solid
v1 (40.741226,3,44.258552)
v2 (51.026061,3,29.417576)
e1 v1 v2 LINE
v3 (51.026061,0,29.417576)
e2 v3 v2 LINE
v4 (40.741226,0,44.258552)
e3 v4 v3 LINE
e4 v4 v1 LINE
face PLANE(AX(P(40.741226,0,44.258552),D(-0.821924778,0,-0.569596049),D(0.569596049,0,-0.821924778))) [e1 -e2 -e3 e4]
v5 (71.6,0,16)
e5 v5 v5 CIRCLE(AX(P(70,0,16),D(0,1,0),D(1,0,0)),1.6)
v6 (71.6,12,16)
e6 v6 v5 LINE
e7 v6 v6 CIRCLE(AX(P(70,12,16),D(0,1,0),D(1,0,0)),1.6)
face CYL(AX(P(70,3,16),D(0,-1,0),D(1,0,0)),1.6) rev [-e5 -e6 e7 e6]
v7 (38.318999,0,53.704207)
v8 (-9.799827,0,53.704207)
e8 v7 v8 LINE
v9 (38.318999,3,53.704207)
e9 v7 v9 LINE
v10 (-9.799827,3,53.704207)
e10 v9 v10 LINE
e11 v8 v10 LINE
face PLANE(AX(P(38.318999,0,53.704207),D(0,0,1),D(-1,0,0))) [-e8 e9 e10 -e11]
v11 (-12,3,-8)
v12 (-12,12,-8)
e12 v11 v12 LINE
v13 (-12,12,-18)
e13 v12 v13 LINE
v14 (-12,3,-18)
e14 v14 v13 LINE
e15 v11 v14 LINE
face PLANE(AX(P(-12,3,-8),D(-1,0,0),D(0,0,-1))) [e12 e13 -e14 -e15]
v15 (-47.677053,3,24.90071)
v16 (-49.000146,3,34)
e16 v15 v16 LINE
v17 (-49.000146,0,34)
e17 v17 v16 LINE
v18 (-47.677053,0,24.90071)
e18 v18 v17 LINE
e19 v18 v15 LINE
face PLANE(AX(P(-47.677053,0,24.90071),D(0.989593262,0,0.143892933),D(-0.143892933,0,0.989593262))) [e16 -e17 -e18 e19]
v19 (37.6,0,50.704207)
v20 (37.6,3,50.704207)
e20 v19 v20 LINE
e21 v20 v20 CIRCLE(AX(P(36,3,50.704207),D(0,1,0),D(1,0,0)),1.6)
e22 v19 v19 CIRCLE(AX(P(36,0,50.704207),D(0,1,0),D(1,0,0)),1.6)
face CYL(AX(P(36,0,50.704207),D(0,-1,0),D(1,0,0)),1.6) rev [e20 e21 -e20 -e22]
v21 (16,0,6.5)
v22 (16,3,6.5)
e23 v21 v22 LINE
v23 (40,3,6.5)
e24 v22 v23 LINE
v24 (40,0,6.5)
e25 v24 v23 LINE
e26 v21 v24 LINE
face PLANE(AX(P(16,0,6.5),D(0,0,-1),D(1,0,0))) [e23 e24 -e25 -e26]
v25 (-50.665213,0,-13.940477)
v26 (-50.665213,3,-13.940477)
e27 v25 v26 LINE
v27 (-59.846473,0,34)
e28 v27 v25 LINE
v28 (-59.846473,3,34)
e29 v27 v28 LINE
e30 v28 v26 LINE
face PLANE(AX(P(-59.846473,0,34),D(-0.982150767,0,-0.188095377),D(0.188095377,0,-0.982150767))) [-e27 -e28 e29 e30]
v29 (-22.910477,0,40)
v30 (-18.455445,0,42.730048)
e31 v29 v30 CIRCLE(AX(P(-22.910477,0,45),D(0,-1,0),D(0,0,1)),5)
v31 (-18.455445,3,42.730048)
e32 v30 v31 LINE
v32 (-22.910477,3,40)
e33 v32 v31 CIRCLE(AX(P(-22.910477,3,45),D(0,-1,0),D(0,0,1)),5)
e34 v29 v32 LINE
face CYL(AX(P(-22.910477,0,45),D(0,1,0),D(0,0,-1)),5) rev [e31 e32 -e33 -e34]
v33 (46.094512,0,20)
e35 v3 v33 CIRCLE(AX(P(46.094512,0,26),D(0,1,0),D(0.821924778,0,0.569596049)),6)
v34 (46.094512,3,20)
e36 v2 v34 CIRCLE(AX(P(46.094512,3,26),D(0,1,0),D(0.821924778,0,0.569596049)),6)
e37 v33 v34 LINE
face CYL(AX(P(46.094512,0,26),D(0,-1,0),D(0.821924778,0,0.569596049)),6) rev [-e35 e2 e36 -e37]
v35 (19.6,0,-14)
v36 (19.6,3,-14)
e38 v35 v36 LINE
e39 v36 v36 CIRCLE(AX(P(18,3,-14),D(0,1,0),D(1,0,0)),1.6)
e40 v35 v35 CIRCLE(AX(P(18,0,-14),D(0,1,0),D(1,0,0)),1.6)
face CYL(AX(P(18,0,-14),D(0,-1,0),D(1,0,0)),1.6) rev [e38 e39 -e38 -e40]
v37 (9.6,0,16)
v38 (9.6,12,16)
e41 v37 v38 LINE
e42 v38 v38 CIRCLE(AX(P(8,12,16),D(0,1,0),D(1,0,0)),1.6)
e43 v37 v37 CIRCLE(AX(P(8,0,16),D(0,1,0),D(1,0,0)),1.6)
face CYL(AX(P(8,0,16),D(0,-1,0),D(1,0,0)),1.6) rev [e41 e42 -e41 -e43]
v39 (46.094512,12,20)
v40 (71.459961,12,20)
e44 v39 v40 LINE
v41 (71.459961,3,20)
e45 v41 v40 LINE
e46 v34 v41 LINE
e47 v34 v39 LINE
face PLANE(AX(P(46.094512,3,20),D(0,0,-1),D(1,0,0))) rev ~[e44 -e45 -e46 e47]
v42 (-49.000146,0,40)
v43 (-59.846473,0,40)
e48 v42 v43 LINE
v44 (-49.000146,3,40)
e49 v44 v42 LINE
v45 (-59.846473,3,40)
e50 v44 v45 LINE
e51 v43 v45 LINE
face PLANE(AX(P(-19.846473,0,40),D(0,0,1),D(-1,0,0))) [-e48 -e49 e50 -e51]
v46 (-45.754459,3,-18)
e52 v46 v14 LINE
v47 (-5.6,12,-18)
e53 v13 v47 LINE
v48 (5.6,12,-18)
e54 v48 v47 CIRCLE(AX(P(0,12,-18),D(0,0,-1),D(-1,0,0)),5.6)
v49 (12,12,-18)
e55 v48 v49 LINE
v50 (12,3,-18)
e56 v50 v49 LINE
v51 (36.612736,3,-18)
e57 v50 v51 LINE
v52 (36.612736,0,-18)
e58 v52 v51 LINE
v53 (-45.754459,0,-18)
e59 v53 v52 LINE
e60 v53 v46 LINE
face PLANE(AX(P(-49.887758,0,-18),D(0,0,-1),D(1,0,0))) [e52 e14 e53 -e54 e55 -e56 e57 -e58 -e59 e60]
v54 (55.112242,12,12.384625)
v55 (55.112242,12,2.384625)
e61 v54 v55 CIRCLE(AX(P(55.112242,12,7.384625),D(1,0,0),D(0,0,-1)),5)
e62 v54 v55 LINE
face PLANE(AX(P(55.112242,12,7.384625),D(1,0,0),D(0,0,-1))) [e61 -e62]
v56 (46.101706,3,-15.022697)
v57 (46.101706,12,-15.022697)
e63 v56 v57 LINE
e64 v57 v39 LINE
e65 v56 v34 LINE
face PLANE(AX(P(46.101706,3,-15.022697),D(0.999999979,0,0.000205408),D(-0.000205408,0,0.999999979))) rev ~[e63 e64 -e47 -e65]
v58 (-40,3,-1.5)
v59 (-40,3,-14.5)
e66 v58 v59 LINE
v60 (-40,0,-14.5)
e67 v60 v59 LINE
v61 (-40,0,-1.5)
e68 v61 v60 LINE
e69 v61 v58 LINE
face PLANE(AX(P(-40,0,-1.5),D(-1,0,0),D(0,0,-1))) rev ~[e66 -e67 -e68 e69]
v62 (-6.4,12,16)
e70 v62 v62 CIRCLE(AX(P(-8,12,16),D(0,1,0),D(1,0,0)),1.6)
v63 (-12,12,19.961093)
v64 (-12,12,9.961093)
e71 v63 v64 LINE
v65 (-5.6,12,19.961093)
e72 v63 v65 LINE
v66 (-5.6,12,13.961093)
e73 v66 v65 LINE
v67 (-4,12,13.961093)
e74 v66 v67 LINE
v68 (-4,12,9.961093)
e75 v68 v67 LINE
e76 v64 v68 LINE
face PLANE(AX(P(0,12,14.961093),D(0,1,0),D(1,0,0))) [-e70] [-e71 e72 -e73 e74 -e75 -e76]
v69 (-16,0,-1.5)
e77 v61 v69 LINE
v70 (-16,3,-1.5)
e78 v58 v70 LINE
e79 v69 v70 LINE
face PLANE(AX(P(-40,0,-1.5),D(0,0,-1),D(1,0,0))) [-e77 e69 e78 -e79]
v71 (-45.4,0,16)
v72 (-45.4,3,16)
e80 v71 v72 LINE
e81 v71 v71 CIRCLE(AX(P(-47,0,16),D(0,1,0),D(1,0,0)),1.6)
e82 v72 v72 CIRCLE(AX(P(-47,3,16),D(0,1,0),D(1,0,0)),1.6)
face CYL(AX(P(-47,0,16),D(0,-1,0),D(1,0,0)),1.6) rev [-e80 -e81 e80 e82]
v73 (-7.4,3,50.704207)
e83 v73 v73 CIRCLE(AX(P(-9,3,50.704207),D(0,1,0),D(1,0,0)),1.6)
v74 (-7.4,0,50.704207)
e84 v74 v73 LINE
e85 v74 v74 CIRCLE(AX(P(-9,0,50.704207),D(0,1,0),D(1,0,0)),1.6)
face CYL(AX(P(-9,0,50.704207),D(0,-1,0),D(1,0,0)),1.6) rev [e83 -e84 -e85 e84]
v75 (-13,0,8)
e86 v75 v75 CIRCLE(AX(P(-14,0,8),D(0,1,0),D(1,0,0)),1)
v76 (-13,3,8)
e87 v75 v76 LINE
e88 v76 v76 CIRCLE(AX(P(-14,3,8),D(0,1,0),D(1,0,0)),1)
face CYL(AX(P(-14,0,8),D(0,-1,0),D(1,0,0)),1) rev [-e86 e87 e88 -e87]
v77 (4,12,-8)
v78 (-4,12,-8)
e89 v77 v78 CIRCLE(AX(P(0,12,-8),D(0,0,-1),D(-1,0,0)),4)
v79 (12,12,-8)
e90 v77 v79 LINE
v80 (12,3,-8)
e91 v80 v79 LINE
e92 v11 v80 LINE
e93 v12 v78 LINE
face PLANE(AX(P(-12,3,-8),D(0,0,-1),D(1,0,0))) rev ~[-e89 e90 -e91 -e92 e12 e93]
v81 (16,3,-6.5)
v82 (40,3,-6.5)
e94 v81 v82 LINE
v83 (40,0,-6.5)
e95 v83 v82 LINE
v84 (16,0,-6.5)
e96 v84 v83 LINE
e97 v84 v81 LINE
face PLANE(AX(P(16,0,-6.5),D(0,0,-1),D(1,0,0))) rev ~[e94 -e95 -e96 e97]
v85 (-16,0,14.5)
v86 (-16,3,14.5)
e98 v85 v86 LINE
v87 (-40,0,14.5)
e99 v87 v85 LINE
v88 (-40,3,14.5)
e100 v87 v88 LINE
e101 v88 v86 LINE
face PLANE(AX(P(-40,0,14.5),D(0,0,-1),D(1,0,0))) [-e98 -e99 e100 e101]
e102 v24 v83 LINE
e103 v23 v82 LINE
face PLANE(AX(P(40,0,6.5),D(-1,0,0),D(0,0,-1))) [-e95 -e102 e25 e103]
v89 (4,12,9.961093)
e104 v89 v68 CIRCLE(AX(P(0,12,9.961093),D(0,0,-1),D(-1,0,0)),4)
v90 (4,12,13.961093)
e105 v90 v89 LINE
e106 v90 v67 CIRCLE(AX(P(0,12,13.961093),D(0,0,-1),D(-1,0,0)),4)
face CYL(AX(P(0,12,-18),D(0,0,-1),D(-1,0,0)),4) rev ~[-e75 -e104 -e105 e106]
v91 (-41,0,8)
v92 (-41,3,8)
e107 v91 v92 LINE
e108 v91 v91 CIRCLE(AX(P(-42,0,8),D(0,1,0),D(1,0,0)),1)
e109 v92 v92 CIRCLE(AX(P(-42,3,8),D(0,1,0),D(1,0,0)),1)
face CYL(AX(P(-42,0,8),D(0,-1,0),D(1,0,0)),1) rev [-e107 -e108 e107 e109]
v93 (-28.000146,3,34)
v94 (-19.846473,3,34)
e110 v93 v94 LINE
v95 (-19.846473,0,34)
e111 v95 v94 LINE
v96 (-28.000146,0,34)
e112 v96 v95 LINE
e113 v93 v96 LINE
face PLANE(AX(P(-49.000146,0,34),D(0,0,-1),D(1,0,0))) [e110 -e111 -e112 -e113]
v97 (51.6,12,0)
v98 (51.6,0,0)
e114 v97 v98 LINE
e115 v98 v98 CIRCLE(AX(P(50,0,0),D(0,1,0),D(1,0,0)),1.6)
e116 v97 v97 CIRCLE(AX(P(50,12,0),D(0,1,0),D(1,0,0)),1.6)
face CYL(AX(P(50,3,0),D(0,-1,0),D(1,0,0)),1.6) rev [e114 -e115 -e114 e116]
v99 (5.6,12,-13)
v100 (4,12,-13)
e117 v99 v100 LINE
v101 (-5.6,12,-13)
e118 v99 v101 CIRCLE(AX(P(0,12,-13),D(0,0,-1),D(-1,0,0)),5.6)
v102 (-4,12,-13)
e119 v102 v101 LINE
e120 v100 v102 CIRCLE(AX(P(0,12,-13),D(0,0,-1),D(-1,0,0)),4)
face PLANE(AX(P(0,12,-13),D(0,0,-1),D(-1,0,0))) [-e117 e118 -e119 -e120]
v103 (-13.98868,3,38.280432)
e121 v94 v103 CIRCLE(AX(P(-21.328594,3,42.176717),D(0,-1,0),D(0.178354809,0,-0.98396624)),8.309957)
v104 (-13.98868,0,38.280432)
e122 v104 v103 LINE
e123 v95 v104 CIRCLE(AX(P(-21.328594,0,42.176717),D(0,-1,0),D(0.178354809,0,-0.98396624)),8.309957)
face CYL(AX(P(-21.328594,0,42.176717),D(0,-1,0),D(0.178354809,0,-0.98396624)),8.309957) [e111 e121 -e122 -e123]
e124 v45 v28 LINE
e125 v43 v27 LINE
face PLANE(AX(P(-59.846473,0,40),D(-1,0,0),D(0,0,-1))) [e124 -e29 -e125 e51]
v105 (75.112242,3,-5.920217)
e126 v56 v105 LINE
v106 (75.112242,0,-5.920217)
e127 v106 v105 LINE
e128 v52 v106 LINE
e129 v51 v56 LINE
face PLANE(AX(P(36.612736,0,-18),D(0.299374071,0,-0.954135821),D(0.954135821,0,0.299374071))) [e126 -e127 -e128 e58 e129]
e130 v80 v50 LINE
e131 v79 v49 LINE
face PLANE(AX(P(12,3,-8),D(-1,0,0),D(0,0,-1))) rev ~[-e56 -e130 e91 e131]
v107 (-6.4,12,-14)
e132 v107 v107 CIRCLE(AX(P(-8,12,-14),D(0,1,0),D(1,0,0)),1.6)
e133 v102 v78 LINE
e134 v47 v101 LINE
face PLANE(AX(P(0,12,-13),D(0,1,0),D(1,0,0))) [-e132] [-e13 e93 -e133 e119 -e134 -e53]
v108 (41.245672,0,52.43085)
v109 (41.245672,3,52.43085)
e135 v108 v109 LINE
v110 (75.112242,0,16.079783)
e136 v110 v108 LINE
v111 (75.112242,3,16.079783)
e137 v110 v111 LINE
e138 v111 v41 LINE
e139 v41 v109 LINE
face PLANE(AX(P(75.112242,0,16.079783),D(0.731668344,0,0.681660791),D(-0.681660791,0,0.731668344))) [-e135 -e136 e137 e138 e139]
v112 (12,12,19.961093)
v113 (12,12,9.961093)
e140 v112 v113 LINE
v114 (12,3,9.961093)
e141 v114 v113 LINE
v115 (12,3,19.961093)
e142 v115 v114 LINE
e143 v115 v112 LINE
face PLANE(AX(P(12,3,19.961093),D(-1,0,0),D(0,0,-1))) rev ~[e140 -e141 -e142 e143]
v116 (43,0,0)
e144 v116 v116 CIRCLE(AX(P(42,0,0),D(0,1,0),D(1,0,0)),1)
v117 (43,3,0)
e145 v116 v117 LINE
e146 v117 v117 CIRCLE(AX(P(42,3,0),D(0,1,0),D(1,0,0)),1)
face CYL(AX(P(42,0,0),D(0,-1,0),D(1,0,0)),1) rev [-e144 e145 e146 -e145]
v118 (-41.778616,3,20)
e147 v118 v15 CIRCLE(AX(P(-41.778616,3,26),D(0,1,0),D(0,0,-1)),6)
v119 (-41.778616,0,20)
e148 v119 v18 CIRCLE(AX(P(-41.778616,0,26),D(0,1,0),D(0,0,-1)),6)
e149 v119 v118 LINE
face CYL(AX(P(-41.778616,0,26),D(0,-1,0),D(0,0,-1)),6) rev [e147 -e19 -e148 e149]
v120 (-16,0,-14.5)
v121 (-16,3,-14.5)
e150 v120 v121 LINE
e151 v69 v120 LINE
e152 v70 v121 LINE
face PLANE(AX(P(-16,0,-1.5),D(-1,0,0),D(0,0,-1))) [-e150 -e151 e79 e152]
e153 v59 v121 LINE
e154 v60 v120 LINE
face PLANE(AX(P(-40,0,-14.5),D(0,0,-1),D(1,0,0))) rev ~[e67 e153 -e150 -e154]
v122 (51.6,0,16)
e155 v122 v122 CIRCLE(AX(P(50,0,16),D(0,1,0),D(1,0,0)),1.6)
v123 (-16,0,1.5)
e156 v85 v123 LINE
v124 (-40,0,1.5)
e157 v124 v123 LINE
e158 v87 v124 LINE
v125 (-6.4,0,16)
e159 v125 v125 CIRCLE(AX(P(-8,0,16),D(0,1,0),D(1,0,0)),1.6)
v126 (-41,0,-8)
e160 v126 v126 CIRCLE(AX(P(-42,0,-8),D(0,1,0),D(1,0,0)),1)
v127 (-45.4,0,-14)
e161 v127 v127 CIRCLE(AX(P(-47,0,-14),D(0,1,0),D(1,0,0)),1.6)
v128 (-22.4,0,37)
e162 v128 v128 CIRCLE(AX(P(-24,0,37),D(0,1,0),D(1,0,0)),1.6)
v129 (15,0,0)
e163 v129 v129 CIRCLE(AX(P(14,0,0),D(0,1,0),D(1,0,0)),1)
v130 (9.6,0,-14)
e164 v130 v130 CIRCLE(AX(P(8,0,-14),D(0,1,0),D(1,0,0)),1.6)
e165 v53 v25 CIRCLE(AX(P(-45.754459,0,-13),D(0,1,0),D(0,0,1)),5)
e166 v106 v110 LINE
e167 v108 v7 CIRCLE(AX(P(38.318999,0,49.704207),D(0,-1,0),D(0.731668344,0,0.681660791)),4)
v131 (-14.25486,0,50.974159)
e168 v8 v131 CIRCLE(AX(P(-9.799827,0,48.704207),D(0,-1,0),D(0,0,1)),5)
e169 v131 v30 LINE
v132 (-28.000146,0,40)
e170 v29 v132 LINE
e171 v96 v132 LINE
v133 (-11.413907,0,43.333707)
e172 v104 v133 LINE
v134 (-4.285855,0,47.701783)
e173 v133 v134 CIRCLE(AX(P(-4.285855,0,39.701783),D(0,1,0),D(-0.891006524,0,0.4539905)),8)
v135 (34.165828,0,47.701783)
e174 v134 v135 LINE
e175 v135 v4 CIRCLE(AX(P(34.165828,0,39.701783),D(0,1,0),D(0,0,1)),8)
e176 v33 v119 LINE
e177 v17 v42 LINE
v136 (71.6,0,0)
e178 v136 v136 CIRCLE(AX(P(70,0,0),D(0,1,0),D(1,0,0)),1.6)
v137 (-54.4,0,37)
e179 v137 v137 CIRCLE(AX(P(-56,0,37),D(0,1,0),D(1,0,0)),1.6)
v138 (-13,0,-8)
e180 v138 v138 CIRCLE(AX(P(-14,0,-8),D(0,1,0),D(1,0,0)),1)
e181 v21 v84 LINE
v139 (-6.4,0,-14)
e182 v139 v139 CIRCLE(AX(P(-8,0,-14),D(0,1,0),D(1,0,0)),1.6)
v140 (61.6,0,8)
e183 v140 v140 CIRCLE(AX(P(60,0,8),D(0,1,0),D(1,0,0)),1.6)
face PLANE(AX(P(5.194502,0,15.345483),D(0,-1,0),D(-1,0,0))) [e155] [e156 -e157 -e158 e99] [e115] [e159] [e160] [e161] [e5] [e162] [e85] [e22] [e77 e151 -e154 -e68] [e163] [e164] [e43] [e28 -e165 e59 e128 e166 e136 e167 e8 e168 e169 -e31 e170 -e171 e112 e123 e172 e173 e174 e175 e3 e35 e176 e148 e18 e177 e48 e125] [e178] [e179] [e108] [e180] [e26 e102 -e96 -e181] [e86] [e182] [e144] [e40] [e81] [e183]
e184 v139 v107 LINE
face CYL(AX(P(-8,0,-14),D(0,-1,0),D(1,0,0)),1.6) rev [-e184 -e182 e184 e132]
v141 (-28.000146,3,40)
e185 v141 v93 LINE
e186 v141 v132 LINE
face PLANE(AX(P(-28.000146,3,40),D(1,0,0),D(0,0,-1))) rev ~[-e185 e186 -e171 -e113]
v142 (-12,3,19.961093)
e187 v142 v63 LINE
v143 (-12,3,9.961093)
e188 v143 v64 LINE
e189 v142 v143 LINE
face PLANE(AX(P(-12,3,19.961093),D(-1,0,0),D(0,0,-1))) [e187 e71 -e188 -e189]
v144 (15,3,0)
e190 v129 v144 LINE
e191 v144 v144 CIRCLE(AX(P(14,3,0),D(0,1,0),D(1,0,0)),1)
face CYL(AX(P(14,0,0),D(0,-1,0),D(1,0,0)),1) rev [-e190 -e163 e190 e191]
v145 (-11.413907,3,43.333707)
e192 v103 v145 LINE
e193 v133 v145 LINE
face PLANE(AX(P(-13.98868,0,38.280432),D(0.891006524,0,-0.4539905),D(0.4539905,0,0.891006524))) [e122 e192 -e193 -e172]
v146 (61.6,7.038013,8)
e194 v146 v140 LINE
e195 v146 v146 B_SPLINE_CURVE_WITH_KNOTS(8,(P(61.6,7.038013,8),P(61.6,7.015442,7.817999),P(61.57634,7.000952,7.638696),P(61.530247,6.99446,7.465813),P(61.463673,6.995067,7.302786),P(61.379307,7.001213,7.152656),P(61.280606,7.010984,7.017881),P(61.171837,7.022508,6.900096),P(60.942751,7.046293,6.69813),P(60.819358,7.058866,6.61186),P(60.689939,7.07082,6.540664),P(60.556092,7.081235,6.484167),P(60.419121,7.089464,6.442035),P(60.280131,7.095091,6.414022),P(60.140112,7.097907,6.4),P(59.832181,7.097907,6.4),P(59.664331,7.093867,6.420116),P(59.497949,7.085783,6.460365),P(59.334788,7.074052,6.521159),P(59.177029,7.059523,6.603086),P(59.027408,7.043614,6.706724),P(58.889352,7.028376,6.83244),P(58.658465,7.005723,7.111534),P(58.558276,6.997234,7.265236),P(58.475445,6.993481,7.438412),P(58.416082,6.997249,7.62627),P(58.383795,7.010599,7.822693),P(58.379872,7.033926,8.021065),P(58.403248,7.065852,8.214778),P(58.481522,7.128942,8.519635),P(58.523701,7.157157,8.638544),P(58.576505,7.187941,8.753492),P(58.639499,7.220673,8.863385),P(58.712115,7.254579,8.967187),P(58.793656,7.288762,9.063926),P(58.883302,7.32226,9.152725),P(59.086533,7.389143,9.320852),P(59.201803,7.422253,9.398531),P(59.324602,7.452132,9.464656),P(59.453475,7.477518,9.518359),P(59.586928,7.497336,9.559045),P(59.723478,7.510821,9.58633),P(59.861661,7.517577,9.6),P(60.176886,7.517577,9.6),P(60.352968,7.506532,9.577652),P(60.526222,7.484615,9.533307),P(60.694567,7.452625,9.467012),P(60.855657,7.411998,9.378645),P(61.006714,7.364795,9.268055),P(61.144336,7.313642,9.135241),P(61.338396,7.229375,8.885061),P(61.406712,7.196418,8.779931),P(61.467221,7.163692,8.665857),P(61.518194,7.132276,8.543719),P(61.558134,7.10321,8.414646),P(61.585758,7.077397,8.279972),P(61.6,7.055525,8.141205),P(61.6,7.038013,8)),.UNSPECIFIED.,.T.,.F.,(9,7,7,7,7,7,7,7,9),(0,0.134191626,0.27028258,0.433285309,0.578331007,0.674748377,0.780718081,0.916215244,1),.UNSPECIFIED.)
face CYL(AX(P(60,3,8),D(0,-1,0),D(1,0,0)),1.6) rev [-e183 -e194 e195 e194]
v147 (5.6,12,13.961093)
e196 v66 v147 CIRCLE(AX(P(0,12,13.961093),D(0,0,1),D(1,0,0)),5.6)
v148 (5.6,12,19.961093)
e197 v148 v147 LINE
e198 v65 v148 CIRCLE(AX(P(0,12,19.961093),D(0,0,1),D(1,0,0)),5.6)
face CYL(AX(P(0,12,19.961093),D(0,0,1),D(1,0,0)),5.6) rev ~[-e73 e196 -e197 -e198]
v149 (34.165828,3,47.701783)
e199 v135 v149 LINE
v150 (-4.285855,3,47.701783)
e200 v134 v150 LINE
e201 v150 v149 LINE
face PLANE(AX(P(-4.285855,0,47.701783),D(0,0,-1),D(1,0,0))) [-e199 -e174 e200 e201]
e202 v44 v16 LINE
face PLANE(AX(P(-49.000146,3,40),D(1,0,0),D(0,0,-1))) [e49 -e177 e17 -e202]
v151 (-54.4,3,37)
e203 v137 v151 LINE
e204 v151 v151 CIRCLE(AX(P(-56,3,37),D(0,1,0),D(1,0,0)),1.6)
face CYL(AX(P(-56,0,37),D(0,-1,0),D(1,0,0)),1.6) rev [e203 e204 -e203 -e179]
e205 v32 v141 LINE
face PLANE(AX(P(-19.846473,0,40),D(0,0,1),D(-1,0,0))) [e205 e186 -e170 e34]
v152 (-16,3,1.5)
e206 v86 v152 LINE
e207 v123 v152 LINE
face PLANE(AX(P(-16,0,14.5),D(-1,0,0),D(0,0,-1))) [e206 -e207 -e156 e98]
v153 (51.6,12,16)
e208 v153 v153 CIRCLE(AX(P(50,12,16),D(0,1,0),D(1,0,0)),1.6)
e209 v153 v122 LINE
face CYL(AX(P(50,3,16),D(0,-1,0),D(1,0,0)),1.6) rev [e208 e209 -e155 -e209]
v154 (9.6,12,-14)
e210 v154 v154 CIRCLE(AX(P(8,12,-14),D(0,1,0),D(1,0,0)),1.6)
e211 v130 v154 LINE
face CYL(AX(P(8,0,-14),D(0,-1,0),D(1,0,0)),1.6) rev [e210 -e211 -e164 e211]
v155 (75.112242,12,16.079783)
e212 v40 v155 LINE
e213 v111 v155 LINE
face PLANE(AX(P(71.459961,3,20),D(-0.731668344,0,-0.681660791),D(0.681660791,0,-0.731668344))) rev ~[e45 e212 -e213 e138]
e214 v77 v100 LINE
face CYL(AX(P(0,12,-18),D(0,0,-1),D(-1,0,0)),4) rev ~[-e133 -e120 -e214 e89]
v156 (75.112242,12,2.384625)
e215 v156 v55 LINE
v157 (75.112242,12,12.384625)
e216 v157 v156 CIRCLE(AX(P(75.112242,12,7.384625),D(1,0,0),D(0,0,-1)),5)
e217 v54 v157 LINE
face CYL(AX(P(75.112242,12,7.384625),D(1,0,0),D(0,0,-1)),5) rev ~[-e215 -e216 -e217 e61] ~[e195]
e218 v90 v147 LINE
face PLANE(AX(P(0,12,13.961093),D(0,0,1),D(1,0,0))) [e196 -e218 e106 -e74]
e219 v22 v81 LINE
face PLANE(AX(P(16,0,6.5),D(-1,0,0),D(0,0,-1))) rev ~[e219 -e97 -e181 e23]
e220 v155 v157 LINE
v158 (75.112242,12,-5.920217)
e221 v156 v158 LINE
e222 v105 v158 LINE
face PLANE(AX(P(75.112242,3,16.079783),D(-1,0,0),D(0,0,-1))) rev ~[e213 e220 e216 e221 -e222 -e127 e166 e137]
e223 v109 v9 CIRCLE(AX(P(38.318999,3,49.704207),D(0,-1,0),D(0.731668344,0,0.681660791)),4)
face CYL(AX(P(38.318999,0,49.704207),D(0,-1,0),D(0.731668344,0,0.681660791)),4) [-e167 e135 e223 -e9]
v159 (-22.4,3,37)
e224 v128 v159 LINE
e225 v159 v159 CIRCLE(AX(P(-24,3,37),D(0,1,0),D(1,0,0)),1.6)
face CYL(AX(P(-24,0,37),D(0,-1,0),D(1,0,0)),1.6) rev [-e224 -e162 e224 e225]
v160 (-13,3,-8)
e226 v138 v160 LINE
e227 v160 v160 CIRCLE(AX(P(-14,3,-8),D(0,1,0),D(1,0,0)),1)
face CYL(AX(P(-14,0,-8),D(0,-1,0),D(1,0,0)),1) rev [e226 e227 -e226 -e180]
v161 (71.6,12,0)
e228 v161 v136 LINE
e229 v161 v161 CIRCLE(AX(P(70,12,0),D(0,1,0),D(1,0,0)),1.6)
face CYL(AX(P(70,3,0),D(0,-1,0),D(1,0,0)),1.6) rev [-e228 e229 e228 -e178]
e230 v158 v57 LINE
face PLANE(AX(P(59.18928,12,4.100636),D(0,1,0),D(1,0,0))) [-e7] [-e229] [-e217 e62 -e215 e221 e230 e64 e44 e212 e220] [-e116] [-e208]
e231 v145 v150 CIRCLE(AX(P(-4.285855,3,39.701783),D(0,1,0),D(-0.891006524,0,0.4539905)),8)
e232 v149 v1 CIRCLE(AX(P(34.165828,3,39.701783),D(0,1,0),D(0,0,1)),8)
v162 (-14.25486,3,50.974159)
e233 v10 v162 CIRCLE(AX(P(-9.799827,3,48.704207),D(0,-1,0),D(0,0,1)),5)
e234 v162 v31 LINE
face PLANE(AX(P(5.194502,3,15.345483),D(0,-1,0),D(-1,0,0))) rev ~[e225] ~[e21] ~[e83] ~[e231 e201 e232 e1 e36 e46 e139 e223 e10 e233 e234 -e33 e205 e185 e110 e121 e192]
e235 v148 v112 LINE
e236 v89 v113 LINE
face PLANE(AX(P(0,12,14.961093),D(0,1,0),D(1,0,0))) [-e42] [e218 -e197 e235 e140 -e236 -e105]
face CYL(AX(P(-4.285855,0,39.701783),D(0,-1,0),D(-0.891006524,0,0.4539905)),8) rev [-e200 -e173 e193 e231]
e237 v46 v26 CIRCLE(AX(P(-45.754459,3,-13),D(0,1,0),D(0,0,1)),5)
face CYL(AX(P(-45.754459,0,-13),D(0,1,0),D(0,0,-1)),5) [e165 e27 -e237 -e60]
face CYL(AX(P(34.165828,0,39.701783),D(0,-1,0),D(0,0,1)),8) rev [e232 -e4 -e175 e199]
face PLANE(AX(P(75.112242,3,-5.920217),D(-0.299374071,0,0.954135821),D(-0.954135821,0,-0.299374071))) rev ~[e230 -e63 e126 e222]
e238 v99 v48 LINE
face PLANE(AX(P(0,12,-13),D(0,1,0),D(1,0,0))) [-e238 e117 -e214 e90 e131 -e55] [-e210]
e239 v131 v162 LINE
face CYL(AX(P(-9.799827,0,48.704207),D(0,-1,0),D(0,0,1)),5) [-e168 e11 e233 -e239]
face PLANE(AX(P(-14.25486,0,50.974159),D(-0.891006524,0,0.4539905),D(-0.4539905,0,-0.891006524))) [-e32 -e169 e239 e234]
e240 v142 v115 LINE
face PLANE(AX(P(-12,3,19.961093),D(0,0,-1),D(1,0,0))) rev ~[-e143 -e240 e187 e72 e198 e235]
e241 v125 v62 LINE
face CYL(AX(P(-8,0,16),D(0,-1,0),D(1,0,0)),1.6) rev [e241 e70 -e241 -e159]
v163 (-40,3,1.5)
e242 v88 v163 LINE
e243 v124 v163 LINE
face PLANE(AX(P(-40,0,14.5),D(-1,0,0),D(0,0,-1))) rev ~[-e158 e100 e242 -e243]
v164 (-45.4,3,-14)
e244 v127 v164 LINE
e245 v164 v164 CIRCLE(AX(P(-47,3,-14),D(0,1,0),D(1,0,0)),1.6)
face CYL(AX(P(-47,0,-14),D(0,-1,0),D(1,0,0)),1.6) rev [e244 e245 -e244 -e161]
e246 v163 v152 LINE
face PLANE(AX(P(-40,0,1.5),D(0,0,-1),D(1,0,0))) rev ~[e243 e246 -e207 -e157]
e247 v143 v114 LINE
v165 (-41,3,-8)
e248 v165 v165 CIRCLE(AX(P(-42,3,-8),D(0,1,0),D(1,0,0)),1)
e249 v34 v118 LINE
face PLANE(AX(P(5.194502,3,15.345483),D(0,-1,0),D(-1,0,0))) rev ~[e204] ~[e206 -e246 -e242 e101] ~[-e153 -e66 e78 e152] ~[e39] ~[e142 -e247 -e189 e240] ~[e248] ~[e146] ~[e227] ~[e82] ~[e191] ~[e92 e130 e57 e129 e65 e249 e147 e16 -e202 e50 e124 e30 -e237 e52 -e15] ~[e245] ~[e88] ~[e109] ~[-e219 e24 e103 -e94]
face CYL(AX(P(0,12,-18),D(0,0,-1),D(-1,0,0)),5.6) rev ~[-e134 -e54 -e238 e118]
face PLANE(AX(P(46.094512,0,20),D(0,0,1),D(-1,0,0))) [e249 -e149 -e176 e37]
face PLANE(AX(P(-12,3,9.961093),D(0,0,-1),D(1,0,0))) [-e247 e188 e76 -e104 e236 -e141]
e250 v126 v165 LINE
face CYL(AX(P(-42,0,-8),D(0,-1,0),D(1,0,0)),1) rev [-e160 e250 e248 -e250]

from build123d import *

# Parameters (mm, degrees)
SKETCH_1_R          = 1.6
SKETCH_1_R_2        = 1
SKETCH_1_W          = 24
SKETCH_1_H          = 13
EXTRUDE_1_DEPTH     = 3
SKETCH_2_R          = 1.6
SKETCH_2_W          = 24
SKETCH_2_H          = 10
EXTRUDE_2_DEPTH     = 9
SKETCH_3_R          = 5
CUT_EXTRUDE_1_DEPTH = 20
SKETCH_4_R          = 4
CUT_EXTRUDE_2_DEPTH = 72.704206567
SKETCH_6_R          = 5.6
CUT_EXTRUDE_3_DEPTH = 5
SKETCH_7_R          = 5.6
CUT_EXTRUDE_4_DEPTH = 6
FILLET_5_R          = 5
FILLET_6_R          = 5
SKETCH_8_W          = 21
SKETCH_8_H          = 6
CUT_EXTRUDE_5_DEPTH = 4.0000001


with BuildPart() as part:
    # Эскиз1 → Бобышка-Вытянуть1 (new body)
    with BuildSketch(Plane(origin=(0, 0, 0), x_dir=(1, 0, 0), z_dir=(0, 1, 0))):
        with BuildLine():
            Line((-59.846473334, -34), (-49.887758312, 18))
            Line((-49.887758312, 18), (36.612736258, 18))
            Line((36.612736258, 18), (75.112241688, 5.920216985))
            Line((75.112241688, 5.920216985), (75.112241688, -16.079783015))
            Line((75.112241688, -16.079783015), (41.245672077, -52.430849732))
            ThreePointArc((41.245672077, -52.430849732), (39.914841322, -53.372078747), (38.318998701, -53.704206567))
            Line((38.318998701, -53.704206567), (-9.799827382, -53.704206567))
            ThreePointArc((-9.799827382, -53.704206567), (-12.412320205, -52.967407389), (-14.254860003, -50.974159066))
            Line((-14.254860003, -50.974159066), (-19.846473334, -40))
            Line((-19.846473334, -40), (-59.846473334, -40))
            Line((-59.846473334, -40), (-59.846473334, -34))
        make_face()
        with Locations((-8, 14)):
            Circle(SKETCH_1_R, mode=Mode.SUBTRACT)
        with Locations((8, 14)):
            Circle(SKETCH_1_R, mode=Mode.SUBTRACT)
        with Locations((-8, -16)):
            Circle(SKETCH_1_R, mode=Mode.SUBTRACT)
        with Locations((8, -16)):
            Circle(SKETCH_1_R, mode=Mode.SUBTRACT)
        with Locations((-47, 14)):
            Circle(SKETCH_1_R, mode=Mode.SUBTRACT)
        with Locations((70, 0)):
            Circle(SKETCH_1_R, mode=Mode.SUBTRACT)
        with Locations((50, 0)):
            Circle(SKETCH_1_R, mode=Mode.SUBTRACT)
        with Locations((18, 14)):
            Circle(SKETCH_1_R, mode=Mode.SUBTRACT)
        with Locations((-47, -16)):
            Circle(SKETCH_1_R, mode=Mode.SUBTRACT)
        with Locations((-56, -37)):
            Circle(SKETCH_1_R, mode=Mode.SUBTRACT)
        with Locations((-24, -37)):
            Circle(SKETCH_1_R, mode=Mode.SUBTRACT)
        with Locations((50, -16)):
            Circle(SKETCH_1_R, mode=Mode.SUBTRACT)
        with Locations((70, -16)):
            Circle(SKETCH_1_R, mode=Mode.SUBTRACT)
        with Locations((-9, -50.704206567)):
            Circle(SKETCH_1_R, mode=Mode.SUBTRACT)
        with Locations((36, -50.704206567)):
            Circle(SKETCH_1_R, mode=Mode.SUBTRACT)
        with Locations((60, -8)):
            Circle(SKETCH_1_R, mode=Mode.SUBTRACT)
        with Locations((-42, -8)):
            Circle(SKETCH_1_R_2, mode=Mode.SUBTRACT)
        with Locations((-14, -8)):
            Circle(SKETCH_1_R_2, mode=Mode.SUBTRACT)
        with Locations((-42, 8)):
            Circle(SKETCH_1_R_2, mode=Mode.SUBTRACT)
        with Locations((-14, 8)):
            Circle(SKETCH_1_R_2, mode=Mode.SUBTRACT)
        with Locations((14, 0)):
            Circle(SKETCH_1_R_2, mode=Mode.SUBTRACT)
        with Locations((42, 0)):
            Circle(SKETCH_1_R_2, mode=Mode.SUBTRACT)
        with Locations((28, 0)):
            Rectangle(SKETCH_1_W, SKETCH_1_H, mode=Mode.SUBTRACT)
        with Locations((-28, 8)):
            Rectangle(SKETCH_1_W, SKETCH_1_H, mode=Mode.SUBTRACT)
        with Locations((-28, -8)):
            Rectangle(SKETCH_1_W, SKETCH_1_H, mode=Mode.SUBTRACT)
        with BuildLine():
            Line((-47.677053254, -24.900709984), (-49.000145857, -34))
            Line((-49.000145857, -34), (-22.297676486, -34))
            Line((-22.297676486, -34), (-19.846473334, -34))
            ThreePointArc((-19.846473334, -34), (-16.425778662, -35.467187694), (-13.988679802, -38.280431537))
            Line((-13.988679802, -38.280431537), (-11.413907263, -43.333707171))
            ThreePointArc((-11.413907263, -43.333707171), (-8.465843587, -46.522904488), (-4.28585507, -47.701783173))
            Line((-4.28585507, -47.701783173), (34.165827616, -47.701783173))
            ThreePointArc((34.165827616, -47.701783173), (37.877016972, -46.788889321), (40.741225842, -44.258551563))
            Line((40.741225842, -44.258551563), (51.02606102, -29.417576293))
            ThreePointArc((51.02606102, -29.417576293), (51.409841961, -23.216607983), (46.09451235, -20))
            Line((46.09451235, -20), (-41.778616049, -20))
            ThreePointArc((-41.778616049, -20), (-45.612951708, -21.385038456), (-47.677053254, -24.900709984))
        make_face(mode=Mode.SUBTRACT)
    extrude(amount=EXTRUDE_1_DEPTH)

    # Эскиз2 → Бобышка-Вытянуть2 (add)
    with BuildSketch(Plane(origin=(0, 3, 0), x_dir=(1, 0, 0), z_dir=(0, 1, 0))):
        Polygon((46.101706289, 15.022696844), (46.09451235, -20), (71.459960933, -20), (75.112241688, -16.079783015), (75.112241688, 5.920216985), align=None)
        with Locations((50, 0)):
            Circle(SKETCH_2_R, mode=Mode.SUBTRACT)
        with Locations((70, 0)):
            Circle(SKETCH_2_R, mode=Mode.SUBTRACT)
        with Locations((70, -16)):
            Circle(SKETCH_2_R, mode=Mode.SUBTRACT)
        with Locations((50, -16)):
            Circle(SKETCH_2_R, mode=Mode.SUBTRACT)
        with Locations((60, -8)):
            Circle(SKETCH_2_R, mode=Mode.SUBTRACT)
        with Locations((0, 13)):
            Rectangle(SKETCH_2_W, SKETCH_2_H)
        with Locations((-8, 14)):
            Circle(SKETCH_2_R, mode=Mode.SUBTRACT)
        with Locations((8, 14)):
            Circle(SKETCH_2_R, mode=Mode.SUBTRACT)
        with Locations((0, -14.961092538)):
            Rectangle(SKETCH_2_W, SKETCH_2_H)
        with Locations((-8, -16)):
            Circle(SKETCH_2_R, mode=Mode.SUBTRACT)
        with Locations((8, -16)):
            Circle(SKETCH_2_R, mode=Mode.SUBTRACT)
    extrude(amount=EXTRUDE_2_DEPTH)

    # Эскиз3 → Вырез-Вытянуть1 (cut)
    with BuildSketch(Plane(origin=(75.112241688, 0, 0), x_dir=(0, 0, -1), z_dir=(1, 0, 0))):
        with Locations((-7.384625177, 12)):
            Circle(SKETCH_3_R)
    extrude(amount=-CUT_EXTRUDE_1_DEPTH, mode=Mode.SUBTRACT)

    # Эскиз4 → Вырез-Вытянуть2 (cut, through all)
    with BuildSketch(Plane(origin=(0, 0, -18), x_dir=(-1, 0, 0), z_dir=(0, 0, -1))):
        with Locations((0, 12)):
            Circle(SKETCH_4_R)
    extrude(amount=-CUT_EXTRUDE_2_DEPTH, mode=Mode.SUBTRACT)

    # Эскиз6 → Вырез-Вытянуть3 (cut)
    with BuildSketch(Plane(origin=(0, 0, -18), x_dir=(-1, 0, 0), z_dir=(0, 0, -1))):
        with Locations((0, 12)):
            Circle(SKETCH_6_R)
    extrude(amount=-CUT_EXTRUDE_3_DEPTH, mode=Mode.SUBTRACT)

    # Эскиз7 → Вырез-Вытянуть4 (cut)
    with BuildSketch(Plane.XY.offset(19.961092538)):
        with Locations((0, 12)):
            Circle(SKETCH_7_R)
    extrude(amount=-CUT_EXTRUDE_4_DEPTH, mode=Mode.SUBTRACT)

    # Скругление5
    fillet_5_edges = [part.edges().sort_by_distance(p)[0] for p in [
        (-49.887758312, 1.5, -18),
    ]]
    fillet(fillet_5_edges, radius=FILLET_5_R)

    # Скругление6
    fillet_6_edges = [part.edges().sort_by_distance(p)[0] for p in [
        (-19.846473334, 1.5, 40),
    ]]
    fillet(fillet_6_edges, radius=FILLET_6_R)

    # Эскиз8 → Вырез-Вытянуть5 (cut, through all)
    with BuildSketch(Plane(origin=(0, 3, 0), x_dir=(1, 0, 0), z_dir=(0, 1, 0))):
        with Locations((-38.500145857, -37)):
            Rectangle(SKETCH_8_W, SKETCH_8_H)
    extrude(amount=-CUT_EXTRUDE_5_DEPTH, mode=Mode.SUBTRACT)


solid = part.part
